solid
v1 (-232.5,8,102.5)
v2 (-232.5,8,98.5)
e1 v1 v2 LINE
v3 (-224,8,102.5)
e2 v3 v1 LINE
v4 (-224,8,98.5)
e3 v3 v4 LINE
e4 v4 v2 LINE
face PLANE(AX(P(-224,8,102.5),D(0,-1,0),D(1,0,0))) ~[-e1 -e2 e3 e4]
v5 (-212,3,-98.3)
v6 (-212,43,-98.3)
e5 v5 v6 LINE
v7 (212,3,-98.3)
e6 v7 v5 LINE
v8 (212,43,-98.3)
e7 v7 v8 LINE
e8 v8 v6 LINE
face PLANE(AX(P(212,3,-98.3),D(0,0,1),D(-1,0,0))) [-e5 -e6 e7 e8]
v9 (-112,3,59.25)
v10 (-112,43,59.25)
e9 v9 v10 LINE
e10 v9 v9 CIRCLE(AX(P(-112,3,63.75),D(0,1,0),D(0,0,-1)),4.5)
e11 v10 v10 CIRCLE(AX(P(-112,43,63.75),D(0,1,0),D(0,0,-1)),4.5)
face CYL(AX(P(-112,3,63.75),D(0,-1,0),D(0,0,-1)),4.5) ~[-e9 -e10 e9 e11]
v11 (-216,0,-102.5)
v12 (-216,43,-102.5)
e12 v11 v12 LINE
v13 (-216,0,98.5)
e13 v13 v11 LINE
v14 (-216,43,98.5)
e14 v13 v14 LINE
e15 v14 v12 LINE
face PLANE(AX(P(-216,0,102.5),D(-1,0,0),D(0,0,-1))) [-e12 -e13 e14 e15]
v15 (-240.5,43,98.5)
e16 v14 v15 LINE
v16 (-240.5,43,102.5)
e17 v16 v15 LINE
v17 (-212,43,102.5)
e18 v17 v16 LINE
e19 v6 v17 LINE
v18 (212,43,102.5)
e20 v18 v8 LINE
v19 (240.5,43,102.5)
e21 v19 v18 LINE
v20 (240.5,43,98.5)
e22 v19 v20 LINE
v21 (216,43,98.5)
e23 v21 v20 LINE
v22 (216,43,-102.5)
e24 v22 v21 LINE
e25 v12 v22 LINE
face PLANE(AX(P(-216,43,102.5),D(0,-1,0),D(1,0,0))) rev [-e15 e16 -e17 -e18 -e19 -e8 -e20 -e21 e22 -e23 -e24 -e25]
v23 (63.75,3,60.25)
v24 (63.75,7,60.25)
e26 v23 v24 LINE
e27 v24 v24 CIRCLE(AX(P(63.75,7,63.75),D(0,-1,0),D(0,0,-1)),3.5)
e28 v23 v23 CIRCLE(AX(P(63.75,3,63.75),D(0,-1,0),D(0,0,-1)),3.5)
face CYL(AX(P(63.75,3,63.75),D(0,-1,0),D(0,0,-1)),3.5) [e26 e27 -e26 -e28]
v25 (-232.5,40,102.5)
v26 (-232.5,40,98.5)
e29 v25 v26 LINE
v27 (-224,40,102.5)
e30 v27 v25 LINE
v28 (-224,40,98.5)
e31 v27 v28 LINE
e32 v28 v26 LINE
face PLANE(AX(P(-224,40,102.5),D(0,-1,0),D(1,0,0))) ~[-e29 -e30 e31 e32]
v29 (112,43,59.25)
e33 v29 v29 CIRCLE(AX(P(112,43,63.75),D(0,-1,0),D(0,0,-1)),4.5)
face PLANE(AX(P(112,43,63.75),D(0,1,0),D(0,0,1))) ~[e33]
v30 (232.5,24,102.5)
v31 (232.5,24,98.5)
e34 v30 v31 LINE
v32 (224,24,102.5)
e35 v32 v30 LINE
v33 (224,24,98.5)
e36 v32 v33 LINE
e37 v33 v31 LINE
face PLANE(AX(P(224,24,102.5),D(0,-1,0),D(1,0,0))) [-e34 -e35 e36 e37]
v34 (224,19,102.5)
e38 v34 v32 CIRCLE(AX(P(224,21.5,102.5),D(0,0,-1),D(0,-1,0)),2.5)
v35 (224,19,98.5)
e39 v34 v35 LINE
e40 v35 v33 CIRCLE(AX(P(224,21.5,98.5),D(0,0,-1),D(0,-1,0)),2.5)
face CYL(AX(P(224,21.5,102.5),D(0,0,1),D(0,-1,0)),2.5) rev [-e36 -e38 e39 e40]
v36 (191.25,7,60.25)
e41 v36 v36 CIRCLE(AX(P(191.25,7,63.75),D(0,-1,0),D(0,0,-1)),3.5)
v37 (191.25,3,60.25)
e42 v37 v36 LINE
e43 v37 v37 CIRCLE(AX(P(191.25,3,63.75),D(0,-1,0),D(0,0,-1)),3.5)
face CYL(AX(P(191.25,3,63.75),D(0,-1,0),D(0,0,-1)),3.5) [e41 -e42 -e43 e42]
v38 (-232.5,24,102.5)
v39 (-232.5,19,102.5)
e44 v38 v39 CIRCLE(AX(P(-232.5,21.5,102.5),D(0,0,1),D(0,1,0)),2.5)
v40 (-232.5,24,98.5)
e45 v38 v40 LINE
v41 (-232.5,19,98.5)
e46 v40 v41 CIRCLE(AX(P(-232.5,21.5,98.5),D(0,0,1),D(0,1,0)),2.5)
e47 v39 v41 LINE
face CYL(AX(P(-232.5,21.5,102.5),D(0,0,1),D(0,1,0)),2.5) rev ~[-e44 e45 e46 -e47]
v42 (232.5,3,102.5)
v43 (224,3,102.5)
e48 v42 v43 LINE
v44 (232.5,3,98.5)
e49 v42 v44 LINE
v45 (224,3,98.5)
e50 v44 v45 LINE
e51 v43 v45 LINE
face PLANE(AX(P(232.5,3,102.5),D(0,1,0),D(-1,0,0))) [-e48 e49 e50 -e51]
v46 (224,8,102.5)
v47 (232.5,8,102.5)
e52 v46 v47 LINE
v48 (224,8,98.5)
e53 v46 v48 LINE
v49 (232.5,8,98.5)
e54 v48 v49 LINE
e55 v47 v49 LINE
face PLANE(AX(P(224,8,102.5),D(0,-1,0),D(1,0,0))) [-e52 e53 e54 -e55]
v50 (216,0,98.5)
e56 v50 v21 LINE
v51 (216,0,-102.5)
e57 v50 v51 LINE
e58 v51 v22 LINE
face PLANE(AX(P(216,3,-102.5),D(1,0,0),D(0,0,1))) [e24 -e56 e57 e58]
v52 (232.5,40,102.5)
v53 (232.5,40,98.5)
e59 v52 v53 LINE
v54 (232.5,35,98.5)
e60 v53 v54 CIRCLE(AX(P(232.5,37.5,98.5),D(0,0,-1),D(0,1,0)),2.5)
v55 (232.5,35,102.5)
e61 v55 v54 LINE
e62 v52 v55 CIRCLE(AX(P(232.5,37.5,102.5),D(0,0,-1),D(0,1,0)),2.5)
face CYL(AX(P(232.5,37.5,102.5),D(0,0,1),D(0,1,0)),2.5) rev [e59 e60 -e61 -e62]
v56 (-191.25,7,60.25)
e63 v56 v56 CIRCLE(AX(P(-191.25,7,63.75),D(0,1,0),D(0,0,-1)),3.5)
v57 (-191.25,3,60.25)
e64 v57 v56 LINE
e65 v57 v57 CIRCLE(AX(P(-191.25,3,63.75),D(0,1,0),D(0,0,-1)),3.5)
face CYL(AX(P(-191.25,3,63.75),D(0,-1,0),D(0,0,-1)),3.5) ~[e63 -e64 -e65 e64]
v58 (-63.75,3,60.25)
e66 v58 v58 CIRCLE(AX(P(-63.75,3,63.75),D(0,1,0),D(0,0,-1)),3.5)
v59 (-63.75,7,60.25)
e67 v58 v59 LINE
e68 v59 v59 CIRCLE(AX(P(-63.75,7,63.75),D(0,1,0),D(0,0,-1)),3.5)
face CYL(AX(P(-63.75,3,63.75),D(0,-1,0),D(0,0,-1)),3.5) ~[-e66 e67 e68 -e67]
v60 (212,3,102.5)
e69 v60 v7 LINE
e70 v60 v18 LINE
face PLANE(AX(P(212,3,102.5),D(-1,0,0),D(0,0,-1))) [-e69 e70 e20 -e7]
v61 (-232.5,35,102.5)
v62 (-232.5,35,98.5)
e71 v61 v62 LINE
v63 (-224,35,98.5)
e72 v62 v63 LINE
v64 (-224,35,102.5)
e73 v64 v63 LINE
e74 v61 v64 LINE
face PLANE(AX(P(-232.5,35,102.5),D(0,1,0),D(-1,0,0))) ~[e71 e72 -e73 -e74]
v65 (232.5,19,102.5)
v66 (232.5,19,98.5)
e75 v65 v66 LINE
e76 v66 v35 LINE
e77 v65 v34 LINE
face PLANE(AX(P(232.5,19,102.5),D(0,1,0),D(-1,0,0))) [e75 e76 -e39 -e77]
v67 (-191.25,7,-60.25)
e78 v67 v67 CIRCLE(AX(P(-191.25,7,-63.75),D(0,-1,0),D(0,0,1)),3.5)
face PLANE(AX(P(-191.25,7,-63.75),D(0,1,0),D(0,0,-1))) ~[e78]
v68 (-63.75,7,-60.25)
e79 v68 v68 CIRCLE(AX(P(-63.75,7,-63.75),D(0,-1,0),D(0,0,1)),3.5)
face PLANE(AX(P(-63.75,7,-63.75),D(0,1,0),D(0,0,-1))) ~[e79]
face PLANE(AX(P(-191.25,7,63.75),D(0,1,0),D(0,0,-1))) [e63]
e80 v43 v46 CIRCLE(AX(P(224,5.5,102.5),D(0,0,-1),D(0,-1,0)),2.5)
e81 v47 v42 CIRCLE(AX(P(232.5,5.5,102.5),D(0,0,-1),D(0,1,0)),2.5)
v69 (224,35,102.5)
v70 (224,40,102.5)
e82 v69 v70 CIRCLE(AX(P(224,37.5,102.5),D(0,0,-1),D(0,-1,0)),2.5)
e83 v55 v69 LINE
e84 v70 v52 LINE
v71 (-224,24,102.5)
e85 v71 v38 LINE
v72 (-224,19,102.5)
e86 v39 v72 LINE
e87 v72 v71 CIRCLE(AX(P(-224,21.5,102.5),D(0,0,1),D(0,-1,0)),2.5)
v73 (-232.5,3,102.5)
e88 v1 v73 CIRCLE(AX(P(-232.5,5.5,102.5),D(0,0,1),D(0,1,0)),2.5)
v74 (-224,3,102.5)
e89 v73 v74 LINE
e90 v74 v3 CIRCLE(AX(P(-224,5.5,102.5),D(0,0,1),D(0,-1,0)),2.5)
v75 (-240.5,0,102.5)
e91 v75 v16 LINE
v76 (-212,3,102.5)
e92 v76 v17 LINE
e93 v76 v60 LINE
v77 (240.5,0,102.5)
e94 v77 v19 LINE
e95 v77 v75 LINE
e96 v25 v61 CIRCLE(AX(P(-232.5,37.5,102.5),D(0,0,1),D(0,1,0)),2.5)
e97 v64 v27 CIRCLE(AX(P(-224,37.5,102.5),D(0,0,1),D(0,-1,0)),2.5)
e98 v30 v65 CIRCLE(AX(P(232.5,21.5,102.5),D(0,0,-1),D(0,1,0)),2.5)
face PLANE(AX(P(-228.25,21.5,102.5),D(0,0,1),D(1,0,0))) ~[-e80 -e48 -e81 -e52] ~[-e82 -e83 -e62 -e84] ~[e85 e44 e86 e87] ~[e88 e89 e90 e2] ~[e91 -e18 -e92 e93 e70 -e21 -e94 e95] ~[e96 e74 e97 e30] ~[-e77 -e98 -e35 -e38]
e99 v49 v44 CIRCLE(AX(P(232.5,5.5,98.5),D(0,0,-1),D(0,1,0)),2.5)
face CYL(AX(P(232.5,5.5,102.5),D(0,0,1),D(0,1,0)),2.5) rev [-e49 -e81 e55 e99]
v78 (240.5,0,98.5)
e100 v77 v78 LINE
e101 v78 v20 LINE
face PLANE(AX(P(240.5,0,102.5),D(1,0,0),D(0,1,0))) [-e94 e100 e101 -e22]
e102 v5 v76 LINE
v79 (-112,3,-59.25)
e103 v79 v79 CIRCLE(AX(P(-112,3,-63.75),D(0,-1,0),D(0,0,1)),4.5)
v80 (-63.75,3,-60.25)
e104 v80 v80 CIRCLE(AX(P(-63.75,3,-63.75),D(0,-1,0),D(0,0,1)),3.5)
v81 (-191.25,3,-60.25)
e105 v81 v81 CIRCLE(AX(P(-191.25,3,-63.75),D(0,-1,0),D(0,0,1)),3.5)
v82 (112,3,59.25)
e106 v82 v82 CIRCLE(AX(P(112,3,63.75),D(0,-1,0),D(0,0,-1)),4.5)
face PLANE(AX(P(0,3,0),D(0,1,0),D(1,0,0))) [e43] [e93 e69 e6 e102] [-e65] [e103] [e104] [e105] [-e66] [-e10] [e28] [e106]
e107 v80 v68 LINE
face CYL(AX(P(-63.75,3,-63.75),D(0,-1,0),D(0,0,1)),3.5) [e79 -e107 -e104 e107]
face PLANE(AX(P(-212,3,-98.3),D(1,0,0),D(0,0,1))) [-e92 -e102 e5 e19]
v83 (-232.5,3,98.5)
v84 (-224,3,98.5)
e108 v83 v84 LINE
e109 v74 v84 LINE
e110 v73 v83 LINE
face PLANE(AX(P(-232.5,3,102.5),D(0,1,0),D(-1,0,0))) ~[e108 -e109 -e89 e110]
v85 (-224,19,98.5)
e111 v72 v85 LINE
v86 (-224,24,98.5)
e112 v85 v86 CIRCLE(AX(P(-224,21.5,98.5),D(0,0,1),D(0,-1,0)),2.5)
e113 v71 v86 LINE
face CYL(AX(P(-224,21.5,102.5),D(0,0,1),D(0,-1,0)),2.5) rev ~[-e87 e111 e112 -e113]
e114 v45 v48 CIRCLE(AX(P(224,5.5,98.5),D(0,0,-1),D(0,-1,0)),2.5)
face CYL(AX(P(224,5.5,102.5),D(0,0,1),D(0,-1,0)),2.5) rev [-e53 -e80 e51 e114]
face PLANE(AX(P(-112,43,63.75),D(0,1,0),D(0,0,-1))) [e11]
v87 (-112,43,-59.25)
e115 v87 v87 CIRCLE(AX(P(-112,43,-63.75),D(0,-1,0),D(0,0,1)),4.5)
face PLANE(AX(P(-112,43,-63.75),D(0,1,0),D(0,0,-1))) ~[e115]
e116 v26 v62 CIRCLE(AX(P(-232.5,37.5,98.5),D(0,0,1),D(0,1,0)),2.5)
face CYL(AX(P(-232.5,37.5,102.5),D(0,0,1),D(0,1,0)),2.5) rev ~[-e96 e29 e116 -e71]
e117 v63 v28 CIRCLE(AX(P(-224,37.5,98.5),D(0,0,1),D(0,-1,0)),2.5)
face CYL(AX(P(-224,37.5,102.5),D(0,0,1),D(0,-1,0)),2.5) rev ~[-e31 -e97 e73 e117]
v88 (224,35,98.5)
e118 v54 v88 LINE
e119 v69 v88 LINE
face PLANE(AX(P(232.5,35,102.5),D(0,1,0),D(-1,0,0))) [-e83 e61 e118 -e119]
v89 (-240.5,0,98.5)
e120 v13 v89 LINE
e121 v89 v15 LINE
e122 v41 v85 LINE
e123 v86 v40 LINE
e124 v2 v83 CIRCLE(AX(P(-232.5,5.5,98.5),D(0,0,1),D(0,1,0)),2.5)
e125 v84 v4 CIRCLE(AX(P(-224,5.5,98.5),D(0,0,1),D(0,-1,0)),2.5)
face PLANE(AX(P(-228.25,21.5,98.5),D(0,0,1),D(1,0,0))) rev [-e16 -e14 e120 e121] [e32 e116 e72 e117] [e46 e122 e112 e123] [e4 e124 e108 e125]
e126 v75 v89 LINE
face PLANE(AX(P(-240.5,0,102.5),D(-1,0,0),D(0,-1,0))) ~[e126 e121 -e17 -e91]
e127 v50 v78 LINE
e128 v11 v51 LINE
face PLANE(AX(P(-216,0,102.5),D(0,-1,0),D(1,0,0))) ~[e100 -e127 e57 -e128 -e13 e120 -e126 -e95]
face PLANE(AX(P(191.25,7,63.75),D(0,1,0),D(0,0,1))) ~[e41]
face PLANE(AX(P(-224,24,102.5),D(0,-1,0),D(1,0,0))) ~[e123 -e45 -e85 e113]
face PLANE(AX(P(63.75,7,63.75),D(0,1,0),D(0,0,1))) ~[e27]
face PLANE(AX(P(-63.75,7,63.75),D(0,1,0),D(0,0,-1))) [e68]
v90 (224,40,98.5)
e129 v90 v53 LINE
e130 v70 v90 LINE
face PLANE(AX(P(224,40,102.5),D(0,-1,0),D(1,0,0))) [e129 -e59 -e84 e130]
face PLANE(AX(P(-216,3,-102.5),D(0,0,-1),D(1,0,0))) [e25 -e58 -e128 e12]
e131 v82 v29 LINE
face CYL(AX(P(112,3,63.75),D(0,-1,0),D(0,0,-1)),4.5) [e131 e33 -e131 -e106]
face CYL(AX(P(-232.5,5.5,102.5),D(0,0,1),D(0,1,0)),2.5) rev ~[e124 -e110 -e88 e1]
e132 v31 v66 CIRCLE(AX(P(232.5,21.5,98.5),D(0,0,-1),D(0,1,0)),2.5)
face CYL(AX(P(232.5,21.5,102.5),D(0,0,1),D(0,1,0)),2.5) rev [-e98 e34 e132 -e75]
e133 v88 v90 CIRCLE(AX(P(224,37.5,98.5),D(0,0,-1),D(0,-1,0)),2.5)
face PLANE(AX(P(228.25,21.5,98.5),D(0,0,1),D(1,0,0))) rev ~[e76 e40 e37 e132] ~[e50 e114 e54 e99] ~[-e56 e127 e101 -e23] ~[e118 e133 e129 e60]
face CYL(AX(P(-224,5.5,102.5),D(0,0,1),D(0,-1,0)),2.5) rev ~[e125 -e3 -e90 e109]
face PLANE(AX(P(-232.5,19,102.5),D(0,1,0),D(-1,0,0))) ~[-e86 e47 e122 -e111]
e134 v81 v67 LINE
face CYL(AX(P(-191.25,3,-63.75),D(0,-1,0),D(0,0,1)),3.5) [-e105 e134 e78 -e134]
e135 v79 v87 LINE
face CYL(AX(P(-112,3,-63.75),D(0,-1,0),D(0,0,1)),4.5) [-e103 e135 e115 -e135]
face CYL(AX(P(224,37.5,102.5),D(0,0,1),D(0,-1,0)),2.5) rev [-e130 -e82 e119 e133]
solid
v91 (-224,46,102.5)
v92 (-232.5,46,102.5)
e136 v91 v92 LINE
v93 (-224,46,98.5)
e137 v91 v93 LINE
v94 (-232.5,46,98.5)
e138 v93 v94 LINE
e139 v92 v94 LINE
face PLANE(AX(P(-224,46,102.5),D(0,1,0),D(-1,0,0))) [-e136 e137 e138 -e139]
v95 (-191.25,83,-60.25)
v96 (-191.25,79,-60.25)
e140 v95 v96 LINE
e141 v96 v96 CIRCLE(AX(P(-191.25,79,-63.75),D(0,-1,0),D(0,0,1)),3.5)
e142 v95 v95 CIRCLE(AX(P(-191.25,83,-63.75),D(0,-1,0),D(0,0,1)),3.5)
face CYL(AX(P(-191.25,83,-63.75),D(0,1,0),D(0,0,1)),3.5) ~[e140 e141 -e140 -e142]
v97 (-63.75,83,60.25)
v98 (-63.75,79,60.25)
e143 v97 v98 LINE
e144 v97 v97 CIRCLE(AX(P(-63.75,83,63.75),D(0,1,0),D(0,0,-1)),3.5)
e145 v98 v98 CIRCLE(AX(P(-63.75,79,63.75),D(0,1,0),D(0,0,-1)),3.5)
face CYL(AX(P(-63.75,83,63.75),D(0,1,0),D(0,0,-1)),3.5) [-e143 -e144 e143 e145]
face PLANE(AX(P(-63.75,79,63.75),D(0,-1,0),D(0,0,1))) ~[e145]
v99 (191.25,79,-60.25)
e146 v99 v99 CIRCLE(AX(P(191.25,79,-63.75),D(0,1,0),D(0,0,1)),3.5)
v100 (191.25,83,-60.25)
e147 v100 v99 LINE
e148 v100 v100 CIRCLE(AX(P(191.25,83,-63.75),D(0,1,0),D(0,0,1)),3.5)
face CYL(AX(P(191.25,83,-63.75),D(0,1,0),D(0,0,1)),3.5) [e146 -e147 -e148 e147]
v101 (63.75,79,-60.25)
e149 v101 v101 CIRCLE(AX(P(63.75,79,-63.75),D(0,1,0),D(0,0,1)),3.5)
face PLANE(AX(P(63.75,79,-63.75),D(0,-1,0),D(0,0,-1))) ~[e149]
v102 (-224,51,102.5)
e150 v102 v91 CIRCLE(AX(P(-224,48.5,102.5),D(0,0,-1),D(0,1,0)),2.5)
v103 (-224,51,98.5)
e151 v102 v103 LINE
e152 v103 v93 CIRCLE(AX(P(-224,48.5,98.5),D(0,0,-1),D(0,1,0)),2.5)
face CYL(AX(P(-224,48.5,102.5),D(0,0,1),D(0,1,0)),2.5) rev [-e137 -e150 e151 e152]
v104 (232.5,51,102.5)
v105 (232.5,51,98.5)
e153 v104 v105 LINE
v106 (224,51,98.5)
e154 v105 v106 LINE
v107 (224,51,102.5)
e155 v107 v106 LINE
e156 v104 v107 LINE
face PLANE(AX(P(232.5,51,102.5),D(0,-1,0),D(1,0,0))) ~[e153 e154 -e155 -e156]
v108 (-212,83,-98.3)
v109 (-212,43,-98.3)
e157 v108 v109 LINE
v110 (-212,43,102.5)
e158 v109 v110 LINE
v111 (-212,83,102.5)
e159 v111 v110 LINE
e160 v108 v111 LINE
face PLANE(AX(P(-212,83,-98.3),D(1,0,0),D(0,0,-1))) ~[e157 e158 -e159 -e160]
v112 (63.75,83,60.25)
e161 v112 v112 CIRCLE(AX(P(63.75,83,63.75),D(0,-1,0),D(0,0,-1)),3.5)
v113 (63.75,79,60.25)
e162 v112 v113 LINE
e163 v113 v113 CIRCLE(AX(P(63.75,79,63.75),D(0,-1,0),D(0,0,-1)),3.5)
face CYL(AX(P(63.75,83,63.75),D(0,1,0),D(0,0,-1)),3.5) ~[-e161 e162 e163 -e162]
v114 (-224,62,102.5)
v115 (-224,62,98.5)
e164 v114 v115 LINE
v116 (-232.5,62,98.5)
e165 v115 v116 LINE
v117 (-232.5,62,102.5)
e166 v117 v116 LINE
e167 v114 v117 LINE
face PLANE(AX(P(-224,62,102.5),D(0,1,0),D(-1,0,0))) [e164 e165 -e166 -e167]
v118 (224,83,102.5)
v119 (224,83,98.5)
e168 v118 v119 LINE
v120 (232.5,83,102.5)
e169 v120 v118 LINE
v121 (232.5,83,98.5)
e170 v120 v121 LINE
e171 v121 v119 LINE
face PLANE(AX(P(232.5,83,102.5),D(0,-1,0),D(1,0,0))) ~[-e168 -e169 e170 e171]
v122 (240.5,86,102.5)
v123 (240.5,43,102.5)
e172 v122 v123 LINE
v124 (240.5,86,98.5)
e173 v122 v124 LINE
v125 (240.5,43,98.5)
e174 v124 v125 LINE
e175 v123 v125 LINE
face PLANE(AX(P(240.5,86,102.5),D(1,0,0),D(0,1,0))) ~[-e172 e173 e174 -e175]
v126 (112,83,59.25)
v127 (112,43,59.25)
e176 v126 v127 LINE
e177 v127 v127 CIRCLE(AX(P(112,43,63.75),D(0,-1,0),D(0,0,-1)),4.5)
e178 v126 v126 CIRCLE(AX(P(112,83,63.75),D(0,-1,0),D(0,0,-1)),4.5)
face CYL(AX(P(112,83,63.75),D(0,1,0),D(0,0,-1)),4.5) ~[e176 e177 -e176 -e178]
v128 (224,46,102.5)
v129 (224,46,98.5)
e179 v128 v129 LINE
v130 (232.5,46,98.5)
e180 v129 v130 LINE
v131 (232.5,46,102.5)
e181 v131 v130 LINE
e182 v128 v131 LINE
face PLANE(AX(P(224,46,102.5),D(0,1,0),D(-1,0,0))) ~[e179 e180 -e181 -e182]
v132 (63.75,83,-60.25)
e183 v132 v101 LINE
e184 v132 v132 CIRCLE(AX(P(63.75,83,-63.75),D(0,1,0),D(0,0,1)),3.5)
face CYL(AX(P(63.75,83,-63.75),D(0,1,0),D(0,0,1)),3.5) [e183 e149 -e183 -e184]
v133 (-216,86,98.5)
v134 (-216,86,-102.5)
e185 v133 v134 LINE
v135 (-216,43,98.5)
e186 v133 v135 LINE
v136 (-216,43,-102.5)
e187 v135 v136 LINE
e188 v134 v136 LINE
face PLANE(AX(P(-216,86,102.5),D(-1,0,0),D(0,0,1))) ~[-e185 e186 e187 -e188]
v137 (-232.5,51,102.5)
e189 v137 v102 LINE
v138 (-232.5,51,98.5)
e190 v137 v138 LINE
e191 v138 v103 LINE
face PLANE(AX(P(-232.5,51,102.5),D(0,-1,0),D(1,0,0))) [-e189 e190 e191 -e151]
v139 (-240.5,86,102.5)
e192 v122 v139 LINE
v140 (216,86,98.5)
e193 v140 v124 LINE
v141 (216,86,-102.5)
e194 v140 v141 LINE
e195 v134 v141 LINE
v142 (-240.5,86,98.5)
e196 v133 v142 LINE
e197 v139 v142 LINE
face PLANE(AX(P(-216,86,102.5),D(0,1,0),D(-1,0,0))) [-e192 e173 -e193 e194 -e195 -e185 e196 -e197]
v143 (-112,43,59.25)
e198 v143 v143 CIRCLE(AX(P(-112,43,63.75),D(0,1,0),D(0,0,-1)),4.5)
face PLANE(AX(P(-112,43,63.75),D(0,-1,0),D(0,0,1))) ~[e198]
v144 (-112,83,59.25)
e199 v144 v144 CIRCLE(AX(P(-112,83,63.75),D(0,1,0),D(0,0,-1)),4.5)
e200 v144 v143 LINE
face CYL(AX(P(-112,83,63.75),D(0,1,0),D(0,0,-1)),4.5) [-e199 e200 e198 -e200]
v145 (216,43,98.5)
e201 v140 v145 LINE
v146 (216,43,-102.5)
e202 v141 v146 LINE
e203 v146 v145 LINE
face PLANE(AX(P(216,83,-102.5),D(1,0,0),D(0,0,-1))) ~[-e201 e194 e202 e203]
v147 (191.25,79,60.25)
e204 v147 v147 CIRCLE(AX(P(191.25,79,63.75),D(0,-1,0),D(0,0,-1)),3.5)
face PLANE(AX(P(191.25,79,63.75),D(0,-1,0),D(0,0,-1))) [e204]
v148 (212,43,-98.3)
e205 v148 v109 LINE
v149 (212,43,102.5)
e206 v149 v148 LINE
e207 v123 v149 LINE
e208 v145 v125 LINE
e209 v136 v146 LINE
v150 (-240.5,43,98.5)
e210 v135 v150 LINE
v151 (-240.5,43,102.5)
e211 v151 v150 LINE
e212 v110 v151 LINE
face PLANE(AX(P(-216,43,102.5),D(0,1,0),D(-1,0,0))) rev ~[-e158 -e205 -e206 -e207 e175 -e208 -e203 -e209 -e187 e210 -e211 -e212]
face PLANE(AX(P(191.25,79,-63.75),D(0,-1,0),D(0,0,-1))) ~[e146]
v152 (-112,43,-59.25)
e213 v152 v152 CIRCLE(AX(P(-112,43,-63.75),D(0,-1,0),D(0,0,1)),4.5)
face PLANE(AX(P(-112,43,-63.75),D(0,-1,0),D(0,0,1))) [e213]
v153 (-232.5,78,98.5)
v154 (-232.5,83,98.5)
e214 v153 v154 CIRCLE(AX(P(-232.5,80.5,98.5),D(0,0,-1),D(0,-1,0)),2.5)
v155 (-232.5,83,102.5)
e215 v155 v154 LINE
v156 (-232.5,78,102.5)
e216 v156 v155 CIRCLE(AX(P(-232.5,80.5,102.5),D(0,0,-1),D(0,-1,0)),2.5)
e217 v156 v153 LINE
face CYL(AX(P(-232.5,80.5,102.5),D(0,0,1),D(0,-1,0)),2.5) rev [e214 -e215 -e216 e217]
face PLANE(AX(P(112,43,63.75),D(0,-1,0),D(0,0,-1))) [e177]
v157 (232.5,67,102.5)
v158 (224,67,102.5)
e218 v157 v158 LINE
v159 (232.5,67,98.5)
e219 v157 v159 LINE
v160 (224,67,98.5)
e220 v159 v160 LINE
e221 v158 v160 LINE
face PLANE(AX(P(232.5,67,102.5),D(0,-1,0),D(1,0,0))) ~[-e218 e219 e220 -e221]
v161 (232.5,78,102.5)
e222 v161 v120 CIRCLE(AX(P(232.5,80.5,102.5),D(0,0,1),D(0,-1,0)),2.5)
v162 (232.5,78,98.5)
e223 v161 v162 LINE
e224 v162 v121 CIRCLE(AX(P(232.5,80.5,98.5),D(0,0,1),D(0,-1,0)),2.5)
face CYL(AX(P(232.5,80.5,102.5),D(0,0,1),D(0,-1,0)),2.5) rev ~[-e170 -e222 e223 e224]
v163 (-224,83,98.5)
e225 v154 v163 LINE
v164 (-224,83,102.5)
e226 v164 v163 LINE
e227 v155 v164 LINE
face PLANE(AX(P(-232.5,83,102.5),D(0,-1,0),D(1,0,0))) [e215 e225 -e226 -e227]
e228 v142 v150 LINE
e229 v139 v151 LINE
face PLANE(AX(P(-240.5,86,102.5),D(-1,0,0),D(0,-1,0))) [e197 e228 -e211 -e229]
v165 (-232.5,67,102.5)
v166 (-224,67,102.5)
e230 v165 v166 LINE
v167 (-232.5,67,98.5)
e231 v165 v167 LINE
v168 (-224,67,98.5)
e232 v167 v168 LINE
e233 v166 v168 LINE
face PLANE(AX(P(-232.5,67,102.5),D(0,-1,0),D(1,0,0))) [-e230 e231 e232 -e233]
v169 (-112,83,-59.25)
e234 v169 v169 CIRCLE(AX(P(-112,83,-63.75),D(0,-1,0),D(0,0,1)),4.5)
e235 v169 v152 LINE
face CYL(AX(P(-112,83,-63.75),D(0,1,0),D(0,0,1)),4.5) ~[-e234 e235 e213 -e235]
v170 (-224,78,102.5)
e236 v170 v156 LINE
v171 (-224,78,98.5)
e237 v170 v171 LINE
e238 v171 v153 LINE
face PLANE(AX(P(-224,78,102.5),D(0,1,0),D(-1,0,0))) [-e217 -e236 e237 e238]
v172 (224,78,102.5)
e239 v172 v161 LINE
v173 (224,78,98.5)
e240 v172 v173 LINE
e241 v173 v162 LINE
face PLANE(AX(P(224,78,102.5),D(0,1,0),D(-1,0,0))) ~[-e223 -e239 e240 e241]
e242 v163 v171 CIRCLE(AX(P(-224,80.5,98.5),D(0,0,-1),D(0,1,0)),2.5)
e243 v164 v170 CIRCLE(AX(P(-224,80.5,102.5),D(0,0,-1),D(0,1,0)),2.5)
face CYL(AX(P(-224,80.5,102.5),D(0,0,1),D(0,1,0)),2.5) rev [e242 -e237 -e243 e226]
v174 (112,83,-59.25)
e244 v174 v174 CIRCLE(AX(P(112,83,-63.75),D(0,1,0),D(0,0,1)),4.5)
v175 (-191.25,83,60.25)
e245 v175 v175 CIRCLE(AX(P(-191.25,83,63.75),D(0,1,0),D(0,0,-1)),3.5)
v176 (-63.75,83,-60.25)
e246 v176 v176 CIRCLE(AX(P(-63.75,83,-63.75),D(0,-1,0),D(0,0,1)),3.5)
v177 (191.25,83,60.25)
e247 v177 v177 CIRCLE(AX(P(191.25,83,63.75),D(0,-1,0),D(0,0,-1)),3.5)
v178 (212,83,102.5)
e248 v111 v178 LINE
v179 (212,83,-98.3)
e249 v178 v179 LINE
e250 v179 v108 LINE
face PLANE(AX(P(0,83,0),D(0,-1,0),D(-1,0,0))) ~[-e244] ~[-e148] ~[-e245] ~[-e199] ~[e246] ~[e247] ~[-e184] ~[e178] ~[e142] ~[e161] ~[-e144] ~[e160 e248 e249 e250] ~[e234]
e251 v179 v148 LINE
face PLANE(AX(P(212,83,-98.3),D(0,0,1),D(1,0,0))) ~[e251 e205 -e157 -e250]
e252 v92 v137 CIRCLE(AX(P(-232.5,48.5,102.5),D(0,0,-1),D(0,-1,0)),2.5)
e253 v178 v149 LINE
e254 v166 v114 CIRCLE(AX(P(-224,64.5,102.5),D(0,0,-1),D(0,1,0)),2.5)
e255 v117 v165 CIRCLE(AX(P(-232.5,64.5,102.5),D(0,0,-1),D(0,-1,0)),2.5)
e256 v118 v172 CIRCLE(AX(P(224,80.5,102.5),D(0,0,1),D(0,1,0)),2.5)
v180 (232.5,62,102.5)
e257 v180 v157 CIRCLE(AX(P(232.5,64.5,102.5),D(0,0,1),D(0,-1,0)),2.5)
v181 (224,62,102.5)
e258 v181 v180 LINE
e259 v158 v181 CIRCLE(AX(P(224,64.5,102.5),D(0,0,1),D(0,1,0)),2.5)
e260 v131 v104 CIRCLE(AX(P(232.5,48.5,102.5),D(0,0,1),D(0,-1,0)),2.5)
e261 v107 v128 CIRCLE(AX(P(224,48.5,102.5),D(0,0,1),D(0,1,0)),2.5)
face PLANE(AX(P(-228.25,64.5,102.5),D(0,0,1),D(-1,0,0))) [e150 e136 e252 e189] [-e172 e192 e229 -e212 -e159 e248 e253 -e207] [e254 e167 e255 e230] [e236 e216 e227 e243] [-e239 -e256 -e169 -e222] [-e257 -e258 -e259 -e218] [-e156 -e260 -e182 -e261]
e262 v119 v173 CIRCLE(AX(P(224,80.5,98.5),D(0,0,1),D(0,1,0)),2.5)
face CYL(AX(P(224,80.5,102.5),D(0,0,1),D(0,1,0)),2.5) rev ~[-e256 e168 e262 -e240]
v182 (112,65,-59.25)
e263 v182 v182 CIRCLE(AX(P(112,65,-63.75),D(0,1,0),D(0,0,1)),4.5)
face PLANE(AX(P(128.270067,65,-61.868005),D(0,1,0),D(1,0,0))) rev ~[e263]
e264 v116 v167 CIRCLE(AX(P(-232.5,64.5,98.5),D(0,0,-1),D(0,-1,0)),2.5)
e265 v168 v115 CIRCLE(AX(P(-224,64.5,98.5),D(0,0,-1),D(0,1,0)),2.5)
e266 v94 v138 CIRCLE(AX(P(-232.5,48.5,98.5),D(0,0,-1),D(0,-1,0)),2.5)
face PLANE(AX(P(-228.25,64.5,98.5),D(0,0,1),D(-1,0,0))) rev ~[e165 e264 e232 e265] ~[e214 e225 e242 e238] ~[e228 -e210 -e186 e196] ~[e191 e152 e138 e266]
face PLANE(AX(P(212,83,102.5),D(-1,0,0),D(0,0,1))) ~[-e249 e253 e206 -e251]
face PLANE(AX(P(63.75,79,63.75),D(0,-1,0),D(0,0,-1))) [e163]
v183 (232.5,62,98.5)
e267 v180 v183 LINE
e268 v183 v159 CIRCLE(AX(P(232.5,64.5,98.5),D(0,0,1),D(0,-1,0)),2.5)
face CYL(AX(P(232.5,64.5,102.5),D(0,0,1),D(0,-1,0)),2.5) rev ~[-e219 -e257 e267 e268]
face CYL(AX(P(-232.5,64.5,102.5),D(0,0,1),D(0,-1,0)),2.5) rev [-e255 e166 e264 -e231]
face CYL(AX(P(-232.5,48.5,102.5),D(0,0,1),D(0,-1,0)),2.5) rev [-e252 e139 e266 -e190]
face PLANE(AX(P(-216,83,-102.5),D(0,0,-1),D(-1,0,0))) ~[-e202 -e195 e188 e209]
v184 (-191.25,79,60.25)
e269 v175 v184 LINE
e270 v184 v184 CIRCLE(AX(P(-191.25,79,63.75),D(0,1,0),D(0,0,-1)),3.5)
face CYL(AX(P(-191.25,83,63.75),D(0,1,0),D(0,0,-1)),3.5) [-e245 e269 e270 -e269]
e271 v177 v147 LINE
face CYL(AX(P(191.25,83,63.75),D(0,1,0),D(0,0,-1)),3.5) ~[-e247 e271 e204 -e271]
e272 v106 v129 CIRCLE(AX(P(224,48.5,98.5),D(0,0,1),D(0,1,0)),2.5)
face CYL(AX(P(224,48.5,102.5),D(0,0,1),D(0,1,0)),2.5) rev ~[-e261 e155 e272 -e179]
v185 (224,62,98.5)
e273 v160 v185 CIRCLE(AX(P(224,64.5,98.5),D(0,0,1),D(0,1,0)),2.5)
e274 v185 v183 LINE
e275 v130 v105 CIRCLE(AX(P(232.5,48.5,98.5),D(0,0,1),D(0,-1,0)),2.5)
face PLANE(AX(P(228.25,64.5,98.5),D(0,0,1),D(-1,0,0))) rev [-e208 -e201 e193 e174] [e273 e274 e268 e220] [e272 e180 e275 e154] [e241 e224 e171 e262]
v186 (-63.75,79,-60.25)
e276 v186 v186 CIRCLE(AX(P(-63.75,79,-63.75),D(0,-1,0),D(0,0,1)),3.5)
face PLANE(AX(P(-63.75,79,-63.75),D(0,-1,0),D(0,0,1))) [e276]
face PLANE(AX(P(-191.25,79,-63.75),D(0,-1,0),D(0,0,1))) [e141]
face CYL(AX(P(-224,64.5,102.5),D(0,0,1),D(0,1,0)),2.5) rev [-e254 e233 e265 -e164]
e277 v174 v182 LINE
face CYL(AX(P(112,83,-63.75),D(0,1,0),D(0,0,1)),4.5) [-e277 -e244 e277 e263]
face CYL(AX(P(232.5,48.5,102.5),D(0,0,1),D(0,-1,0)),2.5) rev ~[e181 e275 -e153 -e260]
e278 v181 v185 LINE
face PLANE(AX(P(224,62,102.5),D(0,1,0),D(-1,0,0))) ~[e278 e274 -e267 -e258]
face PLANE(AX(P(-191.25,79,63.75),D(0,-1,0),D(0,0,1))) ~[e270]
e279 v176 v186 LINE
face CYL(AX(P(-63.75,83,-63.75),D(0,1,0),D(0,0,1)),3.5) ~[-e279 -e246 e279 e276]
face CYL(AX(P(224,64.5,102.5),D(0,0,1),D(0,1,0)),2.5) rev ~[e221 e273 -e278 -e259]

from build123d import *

# Parameters (mm, degrees)
SKETCH2_W               = 432
SKETCH2_H               = 205
BOSS_EXTRUDE1_DEPTH     = 3
BOSS_EXTRUDE2_DEPTH     = 40
SKETCH4_R               = 3.5
BOSS_EXTRUDE3_DEPTH     = 4
SKETCH5_R               = 4.5
BOSS_EXTRUDE4_DEPTH     = 40
SKETCH6_W               = 24.5
SKETCH6_H               = 43
BOSS_EXTRUDE5_DEPTH     = 4
MIRROR5_COPY_1_SKETCH_R = 3.5
MIRROR5_COPY_1_DEPTH    = 4
MIRROR5_COPY_2_SKETCH_R = 4.5
MIRROR5_COPY_2_DEPTH    = 40
SKETCH7_W               = 166.323191252
SKETCH7_H               = 37.444488083
CUT_EXTRUDE1_DEPTH      = 62


with BuildPart() as part:
    # Sketch2 → Boss-Extrude1 (new body)
    with BuildSketch(Plane(origin=(0, 0, 0), x_dir=(1, 0, 0), z_dir=(0, 1, 0))):
        Rectangle(SKETCH2_W, SKETCH2_H)
    extrude(amount=BOSS_EXTRUDE1_DEPTH)

    # Sketch3 → Boss-Extrude2 (add)
    with BuildSketch(Plane(origin=(0, 3, 0), x_dir=(1, 0, 0), z_dir=(0, 1, 0))):
        Polygon((216, -102.5), (212, -102.5), (212, 98.3), (-212, 98.3), (-212, -102.5), (-216, -102.5), (-216, 102.5), (216, 102.5), align=None)
    extrude(amount=BOSS_EXTRUDE2_DEPTH)

    # Sketch4 → Boss-Extrude3 (add)
    with BuildSketch(Plane(origin=(0, 3, 0), x_dir=(1, 0, 0), z_dir=(0, 1, 0))):
        with Locations(Location((63.75, 63.75, 0), (0, 0, 270))):
            Circle(SKETCH4_R)
        with Locations(Location((191.25, 63.75, 0), (0, 0, 270))):
            Circle(SKETCH4_R)
    boss_extrude3 = extrude(amount=BOSS_EXTRUDE3_DEPTH)

    # Sketch5 → Boss-Extrude4 (add)
    with BuildSketch(Plane(origin=(0, 3, 0), x_dir=(1, 0, 0), z_dir=(0, 1, 0))):
        with Locations(Location((112, 63.75, 0), (0, 0, 270))):
            Circle(SKETCH5_R)
    boss_extrude4 = extrude(amount=BOSS_EXTRUDE4_DEPTH)

    # Sketch6 → Boss-Extrude5 (add)
    with BuildSketch(Plane.XY.offset(102.5)):
        with Locations((228.25, 21.5)):
            Rectangle(SKETCH6_W, SKETCH6_H)
        with BuildLine():
            Line((224, 24), (232.5, 24))
            ThreePointArc((232.5, 24), (235, 21.5), (232.5, 19))
            Line((232.5, 19), (224, 19))
            ThreePointArc((224, 19), (221.5, 21.5), (224, 24))
        make_face(mode=Mode.SUBTRACT)
        with BuildLine():
            Line((224, 40), (232.5, 40))
            ThreePointArc((232.5, 40), (235, 37.5), (232.5, 35))
            Line((232.5, 35), (224, 35))
            ThreePointArc((224, 35), (221.5, 37.5), (224, 40))
        make_face(mode=Mode.SUBTRACT)
        with BuildLine():
            Line((224, 8), (232.5, 8))
            ThreePointArc((232.5, 8), (235, 5.5), (232.5, 3))
            Line((232.5, 3), (224, 3))
            ThreePointArc((224, 3), (221.5, 5.5), (224, 8))
        make_face(mode=Mode.SUBTRACT)
    boss_extrude5 = extrude(amount=-BOSS_EXTRUDE5_DEPTH)

    # Mirror3: Boss-Extrude5 across plane
    add(boss_extrude5.mirror(Plane(origin=(0, 0, 0), x_dir=(0, 0, 1), z_dir=(1, 0, 0))))

    # Mirror4: Boss-Extrude3, Boss-Extrude4 across plane
    add(boss_extrude3.mirror(Plane(origin=(0, 0, 0), x_dir=(0, 0, 1), z_dir=(1, 0, 0))))
    add(boss_extrude4.mirror(Plane(origin=(0, 0, 0), x_dir=(0, 0, 1), z_dir=(1, 0, 0))))

    # Mirror5: Boss-Extrude3, Boss-Extrude4 across plane
    add(boss_extrude3.mirror(Plane.XY))
    add(boss_extrude4.mirror(Plane.XY))

    # Mirror5 copy 1 sketch → Mirror5 copy 1 (add)
    with BuildSketch(Plane(origin=(0, 3, 0), x_dir=(-1, 0, 0), z_dir=(0, 1, 0))):
        with Locations(Location((63.75, 63.75, 0), (0, 0, 270))):
            Circle(MIRROR5_COPY_1_SKETCH_R)
        with Locations(Location((191.25, 63.75, 0), (0, 0, 270))):
            Circle(MIRROR5_COPY_1_SKETCH_R)
    extrude(amount=MIRROR5_COPY_1_DEPTH)

    # Mirror5 copy 2 sketch → Mirror5 copy 2 (add)
    with BuildSketch(Plane(origin=(0, 3, 0), x_dir=(-1, 0, 0), z_dir=(0, 1, 0))):
        with Locations(Location((112, 63.75, 0), (0, 0, 270))):
            Circle(MIRROR5_COPY_2_SKETCH_R)
    extrude(amount=MIRROR5_COPY_2_DEPTH)


with BuildPart() as body_2:
    # Mirror6: mirrored copy
    add(part.part.mirror(Plane.ZX.offset(43)))


with BuildPart() as cut_extrude1_tool:
    # Sketch7 → Cut-Extrude1 (new body)
    with BuildSketch(Plane(origin=(0, 3, 0), x_dir=(1, 0, 0), z_dir=(0, 1, 0))):
        with Locations((128.270066894, 61.868005143)):
            Rectangle(SKETCH7_W, SKETCH7_H)
    extrude(amount=CUT_EXTRUDE1_DEPTH)


with BuildPart() as part_1:
    add(part.part)

    # Cut-Extrude1: cut by cut_extrude1_tool
    add(cut_extrude1_tool.part, mode=Mode.SUBTRACT)


with BuildPart() as body_2_1:
    add(body_2.part)

    # Cut-Extrude1: cut by cut_extrude1_tool
    add(cut_extrude1_tool.part, mode=Mode.SUBTRACT)


solid = Compound([part_1.part, body_2_1.part])
